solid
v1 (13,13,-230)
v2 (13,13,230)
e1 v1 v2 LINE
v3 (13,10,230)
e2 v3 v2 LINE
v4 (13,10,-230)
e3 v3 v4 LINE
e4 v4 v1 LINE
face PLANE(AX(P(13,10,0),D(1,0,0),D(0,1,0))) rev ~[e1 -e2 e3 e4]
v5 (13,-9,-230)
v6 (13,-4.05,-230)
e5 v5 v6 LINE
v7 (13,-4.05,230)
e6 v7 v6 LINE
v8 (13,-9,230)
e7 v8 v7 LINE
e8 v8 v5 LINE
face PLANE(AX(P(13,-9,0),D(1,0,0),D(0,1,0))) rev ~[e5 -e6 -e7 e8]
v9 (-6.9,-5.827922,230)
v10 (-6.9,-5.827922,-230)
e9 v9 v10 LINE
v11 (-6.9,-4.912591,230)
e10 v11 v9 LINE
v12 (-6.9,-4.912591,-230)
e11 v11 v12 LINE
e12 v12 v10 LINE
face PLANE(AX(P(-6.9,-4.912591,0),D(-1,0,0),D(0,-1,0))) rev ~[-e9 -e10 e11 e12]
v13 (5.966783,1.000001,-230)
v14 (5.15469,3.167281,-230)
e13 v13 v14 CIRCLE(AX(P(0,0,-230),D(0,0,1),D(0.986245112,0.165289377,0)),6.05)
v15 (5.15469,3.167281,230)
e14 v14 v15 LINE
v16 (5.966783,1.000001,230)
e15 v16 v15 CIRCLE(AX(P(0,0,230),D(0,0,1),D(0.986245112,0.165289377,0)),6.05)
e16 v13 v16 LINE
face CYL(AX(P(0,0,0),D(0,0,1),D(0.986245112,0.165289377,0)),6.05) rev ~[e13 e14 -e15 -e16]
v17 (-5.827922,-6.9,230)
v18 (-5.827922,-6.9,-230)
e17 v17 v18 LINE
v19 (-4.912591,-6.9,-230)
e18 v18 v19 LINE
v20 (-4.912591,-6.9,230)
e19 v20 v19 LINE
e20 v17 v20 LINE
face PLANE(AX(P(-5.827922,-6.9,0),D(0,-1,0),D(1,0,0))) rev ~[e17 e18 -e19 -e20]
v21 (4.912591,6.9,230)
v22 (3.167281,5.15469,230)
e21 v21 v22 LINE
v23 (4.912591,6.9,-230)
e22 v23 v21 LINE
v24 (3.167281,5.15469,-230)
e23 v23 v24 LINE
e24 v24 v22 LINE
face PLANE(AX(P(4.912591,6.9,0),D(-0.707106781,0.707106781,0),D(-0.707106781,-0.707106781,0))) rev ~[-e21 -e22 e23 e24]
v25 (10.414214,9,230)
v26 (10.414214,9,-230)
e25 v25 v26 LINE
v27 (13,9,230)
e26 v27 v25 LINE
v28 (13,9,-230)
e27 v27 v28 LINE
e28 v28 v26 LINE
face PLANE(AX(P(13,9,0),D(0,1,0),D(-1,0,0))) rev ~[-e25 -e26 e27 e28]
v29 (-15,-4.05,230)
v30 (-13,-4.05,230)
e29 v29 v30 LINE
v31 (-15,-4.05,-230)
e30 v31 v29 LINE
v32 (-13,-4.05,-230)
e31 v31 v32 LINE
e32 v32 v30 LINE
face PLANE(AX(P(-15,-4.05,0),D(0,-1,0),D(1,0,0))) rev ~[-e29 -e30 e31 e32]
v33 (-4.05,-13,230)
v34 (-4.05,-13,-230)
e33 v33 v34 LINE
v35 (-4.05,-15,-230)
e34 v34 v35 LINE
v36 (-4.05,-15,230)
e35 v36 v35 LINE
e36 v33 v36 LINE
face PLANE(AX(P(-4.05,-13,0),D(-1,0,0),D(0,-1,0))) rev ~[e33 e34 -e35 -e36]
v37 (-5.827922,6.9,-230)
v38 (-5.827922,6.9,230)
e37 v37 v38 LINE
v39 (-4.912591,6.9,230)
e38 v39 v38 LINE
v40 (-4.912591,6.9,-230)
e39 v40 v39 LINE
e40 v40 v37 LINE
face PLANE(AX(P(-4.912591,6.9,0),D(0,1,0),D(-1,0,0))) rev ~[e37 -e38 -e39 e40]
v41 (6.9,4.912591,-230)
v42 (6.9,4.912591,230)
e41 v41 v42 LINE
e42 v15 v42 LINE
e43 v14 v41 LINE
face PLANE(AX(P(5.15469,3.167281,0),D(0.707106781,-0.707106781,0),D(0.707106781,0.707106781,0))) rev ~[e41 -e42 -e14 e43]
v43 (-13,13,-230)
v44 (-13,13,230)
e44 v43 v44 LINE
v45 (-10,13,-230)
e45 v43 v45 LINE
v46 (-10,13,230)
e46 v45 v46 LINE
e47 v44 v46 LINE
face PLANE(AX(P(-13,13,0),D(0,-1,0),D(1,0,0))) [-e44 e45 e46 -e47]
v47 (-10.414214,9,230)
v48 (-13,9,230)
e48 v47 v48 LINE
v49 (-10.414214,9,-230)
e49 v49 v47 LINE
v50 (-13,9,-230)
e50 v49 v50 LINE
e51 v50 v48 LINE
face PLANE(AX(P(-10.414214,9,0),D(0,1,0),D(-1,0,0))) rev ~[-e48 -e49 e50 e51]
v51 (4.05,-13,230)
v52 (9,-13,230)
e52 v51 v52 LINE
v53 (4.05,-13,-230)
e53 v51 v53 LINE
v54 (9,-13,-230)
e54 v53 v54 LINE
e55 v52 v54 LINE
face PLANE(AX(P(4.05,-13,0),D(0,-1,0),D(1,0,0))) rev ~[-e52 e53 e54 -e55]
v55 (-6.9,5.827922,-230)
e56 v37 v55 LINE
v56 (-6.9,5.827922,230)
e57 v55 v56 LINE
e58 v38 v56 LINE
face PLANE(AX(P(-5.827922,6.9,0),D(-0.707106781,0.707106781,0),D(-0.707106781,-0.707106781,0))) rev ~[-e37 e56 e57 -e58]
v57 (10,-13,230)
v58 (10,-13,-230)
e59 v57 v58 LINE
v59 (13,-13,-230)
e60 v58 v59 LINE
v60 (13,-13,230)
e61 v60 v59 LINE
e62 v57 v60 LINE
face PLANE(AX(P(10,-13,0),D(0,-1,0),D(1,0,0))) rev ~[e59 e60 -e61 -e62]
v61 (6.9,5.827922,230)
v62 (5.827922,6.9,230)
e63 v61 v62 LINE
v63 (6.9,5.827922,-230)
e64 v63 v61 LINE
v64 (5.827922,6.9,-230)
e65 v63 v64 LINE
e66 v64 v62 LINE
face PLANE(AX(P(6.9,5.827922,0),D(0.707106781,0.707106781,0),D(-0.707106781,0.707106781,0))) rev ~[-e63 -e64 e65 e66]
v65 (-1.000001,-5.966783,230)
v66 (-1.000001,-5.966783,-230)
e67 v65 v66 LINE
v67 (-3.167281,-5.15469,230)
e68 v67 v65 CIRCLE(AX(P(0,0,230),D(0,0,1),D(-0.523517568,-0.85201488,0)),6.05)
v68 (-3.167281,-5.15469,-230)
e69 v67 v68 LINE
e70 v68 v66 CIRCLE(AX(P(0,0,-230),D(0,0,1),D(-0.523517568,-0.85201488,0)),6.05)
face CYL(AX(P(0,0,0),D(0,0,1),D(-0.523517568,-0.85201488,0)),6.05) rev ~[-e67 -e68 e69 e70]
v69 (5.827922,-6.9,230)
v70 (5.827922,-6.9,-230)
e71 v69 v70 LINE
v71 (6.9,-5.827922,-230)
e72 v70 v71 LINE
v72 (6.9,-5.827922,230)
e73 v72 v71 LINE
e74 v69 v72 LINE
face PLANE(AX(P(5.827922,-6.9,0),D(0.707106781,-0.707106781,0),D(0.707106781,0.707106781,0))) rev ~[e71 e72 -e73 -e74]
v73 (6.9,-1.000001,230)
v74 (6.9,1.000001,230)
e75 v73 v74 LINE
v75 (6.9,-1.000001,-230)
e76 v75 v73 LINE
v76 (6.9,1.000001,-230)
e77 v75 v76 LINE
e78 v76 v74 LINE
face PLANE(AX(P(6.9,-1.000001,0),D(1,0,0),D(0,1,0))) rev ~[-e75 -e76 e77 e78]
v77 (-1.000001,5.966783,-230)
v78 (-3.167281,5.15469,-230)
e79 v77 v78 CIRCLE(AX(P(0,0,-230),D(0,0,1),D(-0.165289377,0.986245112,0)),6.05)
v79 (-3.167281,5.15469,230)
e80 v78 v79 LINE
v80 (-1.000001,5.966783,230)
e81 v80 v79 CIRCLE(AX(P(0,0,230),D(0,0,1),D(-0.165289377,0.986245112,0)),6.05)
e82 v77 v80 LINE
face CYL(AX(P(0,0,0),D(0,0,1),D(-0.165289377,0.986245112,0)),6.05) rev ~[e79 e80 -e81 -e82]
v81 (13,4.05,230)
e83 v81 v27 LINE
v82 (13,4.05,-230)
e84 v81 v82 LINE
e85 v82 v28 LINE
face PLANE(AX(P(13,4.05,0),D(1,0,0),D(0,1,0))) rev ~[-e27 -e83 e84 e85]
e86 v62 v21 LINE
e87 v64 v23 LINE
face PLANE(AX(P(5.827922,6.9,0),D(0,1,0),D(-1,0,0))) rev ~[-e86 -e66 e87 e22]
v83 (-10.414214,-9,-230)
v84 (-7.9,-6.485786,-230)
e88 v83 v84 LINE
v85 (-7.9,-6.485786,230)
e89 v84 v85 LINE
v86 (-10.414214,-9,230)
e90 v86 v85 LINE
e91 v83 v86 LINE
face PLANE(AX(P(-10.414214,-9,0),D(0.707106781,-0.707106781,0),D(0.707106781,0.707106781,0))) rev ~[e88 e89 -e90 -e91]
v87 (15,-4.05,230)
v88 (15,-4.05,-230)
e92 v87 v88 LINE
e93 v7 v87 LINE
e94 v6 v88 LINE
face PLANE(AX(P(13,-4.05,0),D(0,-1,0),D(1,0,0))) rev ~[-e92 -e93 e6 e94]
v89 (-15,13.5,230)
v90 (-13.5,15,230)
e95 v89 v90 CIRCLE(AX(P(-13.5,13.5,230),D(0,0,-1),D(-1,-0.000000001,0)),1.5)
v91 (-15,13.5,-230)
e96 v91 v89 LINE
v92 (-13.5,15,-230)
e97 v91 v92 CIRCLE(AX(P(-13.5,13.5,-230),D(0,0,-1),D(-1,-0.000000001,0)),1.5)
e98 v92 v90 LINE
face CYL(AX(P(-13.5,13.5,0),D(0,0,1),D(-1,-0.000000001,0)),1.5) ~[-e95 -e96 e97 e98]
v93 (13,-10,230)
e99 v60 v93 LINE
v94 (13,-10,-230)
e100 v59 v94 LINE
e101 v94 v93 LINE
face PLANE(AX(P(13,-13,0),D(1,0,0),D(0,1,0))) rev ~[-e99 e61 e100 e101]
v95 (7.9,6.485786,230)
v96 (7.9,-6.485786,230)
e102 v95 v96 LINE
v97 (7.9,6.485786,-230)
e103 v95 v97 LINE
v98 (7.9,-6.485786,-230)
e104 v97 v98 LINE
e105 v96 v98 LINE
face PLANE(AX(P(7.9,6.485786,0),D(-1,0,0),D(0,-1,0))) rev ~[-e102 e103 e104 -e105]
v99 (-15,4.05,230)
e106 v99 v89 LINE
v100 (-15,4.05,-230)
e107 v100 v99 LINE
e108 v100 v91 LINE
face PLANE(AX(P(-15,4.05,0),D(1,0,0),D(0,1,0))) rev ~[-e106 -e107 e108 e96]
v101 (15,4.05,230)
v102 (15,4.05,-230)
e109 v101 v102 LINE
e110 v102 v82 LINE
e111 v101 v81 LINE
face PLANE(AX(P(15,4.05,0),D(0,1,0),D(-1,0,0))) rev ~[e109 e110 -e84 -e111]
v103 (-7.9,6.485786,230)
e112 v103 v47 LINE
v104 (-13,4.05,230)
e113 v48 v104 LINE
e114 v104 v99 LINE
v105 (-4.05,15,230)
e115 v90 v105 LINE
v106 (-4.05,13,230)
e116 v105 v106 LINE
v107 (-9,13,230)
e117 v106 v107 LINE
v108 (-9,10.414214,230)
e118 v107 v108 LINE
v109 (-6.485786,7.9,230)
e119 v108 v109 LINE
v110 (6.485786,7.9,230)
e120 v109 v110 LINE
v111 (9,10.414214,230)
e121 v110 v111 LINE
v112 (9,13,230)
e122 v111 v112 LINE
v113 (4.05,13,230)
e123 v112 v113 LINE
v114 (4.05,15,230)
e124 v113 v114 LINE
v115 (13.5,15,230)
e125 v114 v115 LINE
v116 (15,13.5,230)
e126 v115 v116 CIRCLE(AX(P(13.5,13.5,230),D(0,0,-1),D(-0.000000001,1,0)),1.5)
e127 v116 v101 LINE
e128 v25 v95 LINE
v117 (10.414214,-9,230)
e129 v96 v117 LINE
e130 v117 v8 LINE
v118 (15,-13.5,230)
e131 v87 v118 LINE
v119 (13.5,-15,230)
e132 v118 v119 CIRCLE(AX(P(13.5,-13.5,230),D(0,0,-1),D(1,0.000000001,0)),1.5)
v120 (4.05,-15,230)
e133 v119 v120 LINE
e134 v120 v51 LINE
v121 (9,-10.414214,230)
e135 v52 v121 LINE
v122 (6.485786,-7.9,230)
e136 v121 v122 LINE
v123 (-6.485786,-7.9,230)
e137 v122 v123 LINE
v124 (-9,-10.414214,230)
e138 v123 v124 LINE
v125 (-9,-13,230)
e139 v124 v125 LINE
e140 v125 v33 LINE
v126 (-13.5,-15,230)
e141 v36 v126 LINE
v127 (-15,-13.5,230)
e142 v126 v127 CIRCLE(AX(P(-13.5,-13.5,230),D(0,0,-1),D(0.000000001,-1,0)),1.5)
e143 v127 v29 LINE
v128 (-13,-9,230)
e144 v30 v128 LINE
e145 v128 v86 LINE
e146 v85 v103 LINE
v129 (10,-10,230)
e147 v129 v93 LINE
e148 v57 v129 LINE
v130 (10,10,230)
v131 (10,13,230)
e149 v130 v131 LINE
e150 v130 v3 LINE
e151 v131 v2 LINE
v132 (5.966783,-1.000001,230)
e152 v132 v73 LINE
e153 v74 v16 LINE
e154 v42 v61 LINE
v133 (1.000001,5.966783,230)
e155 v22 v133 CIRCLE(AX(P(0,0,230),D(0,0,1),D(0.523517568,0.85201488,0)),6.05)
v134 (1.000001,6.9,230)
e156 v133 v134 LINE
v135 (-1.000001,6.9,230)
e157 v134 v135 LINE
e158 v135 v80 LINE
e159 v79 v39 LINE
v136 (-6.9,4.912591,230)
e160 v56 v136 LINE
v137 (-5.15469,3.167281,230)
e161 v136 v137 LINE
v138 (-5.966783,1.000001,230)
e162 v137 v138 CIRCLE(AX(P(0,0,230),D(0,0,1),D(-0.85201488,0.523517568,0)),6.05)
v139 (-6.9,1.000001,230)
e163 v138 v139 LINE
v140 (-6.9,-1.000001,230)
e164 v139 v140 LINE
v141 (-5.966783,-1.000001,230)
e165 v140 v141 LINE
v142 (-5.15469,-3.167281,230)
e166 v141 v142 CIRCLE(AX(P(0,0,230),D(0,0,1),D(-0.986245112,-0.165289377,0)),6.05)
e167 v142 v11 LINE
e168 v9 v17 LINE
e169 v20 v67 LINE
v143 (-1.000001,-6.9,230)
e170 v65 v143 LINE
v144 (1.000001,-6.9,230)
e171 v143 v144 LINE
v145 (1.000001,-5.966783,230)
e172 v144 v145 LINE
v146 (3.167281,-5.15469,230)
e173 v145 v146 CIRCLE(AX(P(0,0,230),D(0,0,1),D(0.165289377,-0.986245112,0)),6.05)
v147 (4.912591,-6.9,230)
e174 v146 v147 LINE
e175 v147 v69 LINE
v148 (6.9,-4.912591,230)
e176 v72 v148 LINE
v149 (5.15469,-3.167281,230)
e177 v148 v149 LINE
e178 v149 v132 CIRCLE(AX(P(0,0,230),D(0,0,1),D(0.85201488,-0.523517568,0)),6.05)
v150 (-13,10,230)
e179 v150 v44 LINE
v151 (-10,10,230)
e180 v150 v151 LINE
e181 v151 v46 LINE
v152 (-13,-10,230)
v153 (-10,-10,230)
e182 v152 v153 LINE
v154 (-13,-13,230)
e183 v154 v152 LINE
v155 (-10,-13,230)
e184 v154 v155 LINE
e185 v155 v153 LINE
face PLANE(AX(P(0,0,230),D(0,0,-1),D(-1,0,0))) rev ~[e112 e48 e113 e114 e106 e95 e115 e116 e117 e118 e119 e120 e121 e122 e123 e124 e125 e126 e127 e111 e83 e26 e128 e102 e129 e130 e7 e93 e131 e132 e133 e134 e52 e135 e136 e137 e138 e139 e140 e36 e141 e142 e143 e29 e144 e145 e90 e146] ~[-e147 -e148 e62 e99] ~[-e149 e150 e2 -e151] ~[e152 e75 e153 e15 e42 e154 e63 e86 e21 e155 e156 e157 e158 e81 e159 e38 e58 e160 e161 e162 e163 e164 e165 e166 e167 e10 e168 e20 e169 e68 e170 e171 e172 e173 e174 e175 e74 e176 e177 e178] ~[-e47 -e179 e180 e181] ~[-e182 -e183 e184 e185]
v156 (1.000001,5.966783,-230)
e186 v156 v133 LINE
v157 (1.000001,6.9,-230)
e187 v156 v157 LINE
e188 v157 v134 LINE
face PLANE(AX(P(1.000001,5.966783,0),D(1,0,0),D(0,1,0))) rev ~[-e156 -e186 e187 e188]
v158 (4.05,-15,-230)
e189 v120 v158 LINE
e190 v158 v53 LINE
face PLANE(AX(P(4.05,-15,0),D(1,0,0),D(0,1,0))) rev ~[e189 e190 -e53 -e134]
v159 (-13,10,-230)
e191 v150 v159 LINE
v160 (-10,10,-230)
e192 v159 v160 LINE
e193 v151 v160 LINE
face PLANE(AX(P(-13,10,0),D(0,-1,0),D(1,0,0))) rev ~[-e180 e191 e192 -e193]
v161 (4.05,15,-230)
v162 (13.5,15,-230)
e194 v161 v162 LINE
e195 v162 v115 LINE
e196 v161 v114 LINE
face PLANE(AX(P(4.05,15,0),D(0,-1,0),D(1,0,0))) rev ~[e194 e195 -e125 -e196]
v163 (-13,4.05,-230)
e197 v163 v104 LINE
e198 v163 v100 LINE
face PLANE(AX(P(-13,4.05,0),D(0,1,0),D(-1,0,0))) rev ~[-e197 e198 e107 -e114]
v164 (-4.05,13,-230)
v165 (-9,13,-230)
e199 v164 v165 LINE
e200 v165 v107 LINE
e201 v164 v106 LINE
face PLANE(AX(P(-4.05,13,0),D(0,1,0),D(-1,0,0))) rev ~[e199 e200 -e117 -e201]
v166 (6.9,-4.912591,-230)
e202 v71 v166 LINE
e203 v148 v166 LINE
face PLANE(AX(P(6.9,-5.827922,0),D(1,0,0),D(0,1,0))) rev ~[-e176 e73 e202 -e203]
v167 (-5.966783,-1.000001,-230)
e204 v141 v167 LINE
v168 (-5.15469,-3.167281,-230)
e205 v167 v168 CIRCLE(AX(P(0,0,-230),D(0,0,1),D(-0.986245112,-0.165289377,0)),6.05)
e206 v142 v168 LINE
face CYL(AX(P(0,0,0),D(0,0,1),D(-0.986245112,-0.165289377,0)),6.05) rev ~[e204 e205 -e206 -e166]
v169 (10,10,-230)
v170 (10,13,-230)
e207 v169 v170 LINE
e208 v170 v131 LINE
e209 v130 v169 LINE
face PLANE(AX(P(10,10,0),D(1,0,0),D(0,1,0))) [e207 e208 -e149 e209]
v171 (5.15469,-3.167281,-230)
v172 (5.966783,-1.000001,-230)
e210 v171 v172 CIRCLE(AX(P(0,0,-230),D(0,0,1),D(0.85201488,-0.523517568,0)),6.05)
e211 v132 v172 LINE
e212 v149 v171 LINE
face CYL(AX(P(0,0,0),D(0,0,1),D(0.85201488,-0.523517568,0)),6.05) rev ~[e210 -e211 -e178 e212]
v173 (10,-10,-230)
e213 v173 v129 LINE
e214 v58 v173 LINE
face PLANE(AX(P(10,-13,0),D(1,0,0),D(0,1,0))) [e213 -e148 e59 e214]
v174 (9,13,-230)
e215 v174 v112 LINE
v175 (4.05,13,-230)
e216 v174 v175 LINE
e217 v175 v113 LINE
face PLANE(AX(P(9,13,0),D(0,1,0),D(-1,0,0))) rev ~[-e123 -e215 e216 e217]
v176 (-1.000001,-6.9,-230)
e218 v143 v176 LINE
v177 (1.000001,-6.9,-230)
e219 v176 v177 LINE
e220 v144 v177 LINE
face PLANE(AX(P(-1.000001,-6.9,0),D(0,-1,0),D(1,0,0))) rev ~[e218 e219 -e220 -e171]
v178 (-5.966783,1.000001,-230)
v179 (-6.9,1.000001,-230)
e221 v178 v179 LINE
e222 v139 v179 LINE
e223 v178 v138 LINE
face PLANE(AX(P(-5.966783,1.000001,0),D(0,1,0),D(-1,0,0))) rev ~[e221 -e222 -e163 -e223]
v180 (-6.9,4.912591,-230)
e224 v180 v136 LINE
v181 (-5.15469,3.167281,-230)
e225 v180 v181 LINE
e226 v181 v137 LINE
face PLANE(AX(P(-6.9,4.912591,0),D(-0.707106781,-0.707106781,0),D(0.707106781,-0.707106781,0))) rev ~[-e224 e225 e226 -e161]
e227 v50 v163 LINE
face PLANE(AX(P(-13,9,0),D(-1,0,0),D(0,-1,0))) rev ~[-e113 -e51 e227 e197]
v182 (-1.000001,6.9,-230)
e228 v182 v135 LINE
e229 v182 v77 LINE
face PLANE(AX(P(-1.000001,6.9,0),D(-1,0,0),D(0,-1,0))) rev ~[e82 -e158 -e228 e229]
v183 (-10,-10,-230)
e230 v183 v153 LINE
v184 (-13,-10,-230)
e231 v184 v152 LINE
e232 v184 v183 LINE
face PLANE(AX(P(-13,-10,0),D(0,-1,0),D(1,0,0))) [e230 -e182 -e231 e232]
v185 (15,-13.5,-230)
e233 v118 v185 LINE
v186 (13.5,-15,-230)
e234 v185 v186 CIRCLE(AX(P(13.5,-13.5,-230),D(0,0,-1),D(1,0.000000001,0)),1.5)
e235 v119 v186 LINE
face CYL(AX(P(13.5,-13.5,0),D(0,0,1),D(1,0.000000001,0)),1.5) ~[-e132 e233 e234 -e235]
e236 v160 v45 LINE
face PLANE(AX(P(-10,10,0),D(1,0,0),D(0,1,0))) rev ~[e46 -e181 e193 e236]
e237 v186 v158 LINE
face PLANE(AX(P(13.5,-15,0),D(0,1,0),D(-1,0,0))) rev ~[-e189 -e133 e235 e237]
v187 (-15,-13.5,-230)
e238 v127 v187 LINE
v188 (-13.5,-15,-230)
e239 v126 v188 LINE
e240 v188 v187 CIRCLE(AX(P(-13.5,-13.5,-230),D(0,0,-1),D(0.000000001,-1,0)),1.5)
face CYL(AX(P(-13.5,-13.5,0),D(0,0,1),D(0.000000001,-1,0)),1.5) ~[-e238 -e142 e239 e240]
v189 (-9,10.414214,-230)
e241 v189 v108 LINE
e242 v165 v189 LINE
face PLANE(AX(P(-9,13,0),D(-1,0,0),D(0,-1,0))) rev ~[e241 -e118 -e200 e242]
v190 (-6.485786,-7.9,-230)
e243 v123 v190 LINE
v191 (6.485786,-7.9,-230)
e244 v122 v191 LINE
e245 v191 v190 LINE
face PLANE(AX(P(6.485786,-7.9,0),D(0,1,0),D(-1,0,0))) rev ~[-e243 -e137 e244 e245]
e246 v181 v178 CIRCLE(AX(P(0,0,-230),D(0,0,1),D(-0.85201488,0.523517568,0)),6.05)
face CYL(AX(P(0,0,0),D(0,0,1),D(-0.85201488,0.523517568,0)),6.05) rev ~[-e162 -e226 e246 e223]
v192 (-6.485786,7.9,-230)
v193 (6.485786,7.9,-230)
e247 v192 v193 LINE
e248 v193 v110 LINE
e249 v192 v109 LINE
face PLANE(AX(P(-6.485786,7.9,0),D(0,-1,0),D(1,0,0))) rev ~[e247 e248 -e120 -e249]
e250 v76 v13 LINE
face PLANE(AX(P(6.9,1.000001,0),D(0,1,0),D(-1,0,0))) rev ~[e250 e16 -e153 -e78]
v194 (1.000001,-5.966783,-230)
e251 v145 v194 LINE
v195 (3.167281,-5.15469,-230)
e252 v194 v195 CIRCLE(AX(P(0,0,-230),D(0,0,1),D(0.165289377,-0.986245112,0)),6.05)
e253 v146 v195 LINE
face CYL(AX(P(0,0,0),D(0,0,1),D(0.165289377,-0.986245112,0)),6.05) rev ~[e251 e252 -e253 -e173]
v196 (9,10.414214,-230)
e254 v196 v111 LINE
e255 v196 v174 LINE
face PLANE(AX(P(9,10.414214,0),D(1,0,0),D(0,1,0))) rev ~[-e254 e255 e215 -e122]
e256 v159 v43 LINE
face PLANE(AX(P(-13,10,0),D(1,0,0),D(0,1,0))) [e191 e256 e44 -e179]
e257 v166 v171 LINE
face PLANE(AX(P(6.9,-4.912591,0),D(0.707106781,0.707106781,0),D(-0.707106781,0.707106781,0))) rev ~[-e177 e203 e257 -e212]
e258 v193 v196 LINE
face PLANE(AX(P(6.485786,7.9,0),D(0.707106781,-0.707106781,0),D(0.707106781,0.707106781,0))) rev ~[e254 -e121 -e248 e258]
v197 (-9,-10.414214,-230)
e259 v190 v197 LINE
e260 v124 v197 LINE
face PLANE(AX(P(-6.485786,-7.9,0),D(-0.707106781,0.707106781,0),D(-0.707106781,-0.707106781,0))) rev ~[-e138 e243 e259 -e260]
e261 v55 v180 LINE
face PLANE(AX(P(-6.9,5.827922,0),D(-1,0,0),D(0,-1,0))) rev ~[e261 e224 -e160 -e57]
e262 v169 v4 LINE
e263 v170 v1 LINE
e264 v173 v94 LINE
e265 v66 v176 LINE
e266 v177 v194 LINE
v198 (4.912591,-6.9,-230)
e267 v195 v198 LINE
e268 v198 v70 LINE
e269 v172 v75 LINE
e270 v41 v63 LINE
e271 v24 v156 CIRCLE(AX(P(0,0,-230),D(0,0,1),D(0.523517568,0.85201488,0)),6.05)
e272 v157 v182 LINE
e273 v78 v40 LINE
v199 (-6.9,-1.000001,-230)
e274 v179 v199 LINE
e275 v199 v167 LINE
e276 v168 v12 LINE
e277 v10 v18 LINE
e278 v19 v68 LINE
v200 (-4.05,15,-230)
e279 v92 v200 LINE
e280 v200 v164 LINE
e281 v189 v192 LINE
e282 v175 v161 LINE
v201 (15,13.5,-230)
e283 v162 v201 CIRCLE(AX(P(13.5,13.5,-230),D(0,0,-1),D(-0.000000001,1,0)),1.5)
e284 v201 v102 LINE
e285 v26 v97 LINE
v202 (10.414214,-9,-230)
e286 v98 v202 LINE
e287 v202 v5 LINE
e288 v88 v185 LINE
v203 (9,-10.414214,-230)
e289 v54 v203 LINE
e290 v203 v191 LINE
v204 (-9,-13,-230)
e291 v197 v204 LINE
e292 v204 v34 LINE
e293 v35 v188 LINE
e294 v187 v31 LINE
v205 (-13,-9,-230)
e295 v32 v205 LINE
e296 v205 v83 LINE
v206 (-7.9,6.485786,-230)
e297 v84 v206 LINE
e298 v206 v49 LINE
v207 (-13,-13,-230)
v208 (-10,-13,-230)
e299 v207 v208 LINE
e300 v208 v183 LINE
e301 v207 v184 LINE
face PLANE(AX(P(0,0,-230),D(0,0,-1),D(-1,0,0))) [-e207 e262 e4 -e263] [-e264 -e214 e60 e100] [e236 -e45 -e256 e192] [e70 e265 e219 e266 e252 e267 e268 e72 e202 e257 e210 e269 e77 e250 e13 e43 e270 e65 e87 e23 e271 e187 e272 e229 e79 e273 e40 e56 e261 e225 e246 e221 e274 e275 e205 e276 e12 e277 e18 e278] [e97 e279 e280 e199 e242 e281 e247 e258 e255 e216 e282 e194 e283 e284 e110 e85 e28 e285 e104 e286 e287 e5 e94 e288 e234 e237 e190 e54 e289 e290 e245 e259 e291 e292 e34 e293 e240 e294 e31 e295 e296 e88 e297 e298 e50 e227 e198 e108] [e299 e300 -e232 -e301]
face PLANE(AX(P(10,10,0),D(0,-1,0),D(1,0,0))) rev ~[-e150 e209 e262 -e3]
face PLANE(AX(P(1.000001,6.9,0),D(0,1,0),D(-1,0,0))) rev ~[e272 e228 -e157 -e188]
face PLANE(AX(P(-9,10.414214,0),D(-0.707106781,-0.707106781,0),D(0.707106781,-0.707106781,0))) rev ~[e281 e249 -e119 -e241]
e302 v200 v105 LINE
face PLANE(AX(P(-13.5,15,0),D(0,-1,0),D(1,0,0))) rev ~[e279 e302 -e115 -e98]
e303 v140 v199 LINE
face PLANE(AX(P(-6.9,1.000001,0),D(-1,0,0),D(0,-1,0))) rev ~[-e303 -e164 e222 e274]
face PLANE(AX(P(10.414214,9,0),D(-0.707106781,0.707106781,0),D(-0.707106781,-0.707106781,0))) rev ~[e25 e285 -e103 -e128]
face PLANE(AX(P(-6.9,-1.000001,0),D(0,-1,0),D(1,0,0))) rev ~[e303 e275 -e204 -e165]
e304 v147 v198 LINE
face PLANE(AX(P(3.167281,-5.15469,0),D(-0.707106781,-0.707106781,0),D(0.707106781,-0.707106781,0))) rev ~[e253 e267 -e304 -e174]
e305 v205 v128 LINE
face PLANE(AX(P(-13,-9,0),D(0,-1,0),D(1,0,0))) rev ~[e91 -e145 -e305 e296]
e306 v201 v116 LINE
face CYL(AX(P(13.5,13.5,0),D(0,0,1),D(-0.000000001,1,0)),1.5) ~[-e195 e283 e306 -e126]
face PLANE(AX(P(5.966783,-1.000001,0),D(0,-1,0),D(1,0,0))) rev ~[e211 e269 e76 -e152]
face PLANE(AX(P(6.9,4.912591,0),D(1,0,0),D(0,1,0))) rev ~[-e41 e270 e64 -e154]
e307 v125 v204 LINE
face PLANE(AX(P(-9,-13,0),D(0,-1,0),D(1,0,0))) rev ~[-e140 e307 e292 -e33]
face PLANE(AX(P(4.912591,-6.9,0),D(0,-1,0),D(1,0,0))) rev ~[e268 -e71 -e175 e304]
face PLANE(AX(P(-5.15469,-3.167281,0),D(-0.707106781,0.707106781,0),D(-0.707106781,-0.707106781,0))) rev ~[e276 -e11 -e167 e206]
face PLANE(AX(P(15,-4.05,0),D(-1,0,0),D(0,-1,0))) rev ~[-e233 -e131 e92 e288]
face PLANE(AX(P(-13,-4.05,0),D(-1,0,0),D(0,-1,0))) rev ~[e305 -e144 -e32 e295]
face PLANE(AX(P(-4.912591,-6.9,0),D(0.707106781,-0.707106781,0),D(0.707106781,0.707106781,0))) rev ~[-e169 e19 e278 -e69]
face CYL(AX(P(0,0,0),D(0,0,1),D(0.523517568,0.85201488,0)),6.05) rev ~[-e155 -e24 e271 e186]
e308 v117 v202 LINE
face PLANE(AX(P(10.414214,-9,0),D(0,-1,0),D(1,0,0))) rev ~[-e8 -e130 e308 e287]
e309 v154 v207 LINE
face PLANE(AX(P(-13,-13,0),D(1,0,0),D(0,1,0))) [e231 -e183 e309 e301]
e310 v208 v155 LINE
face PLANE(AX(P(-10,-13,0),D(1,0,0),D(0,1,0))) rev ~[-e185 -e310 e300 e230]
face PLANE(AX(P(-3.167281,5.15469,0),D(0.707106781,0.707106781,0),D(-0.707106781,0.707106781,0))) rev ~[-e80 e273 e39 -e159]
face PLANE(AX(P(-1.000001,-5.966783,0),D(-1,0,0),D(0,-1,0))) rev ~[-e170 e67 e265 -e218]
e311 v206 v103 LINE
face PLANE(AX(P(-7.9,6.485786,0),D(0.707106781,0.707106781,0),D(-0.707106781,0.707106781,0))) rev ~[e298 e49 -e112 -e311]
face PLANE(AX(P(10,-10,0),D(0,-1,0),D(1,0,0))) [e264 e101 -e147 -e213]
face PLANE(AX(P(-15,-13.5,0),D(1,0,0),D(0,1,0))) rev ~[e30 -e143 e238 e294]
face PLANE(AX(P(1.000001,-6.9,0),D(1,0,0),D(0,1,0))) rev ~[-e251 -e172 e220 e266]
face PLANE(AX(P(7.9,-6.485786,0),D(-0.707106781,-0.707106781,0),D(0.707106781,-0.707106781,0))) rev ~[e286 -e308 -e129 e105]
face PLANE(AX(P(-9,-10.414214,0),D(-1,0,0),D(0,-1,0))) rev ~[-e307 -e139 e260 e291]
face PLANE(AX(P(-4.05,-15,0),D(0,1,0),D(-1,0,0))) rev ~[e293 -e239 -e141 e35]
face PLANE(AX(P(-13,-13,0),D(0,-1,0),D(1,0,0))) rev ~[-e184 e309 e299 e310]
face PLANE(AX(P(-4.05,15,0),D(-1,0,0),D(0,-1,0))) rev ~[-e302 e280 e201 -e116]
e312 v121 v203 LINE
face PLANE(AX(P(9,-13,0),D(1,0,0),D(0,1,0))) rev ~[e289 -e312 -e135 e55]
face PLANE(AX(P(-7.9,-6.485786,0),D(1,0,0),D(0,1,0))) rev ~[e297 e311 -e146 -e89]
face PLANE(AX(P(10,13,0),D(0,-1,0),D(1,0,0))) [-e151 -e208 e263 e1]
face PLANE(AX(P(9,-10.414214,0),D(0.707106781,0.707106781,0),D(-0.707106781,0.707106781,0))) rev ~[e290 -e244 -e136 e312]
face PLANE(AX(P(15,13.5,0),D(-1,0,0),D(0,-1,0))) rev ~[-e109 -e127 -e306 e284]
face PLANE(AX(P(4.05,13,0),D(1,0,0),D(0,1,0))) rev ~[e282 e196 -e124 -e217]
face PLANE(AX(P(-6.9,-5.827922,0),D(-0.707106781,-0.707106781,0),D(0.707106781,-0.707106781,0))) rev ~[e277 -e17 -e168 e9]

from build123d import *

# Parameters (mm, degrees)
ESBO_O1_W                = 3
ESBO_O1_H                = 3
RESSALTO_EXTRUS_O1_DEPTH = 230


with BuildPart() as part:
    # Esboço1 → Ressalto-extrusão1 (new, symmetric)
    with BuildSketch(Plane.XY):
        with BuildLine():
            Line((15, 13.5), (15, 4.05))
            Line((15, 4.05), (13, 4.05))
            Line((13, 4.05), (13, 9))
            Line((13, 9), (10.414213562, 9))
            Line((10.414213562, 9), (7.9, 6.485786438))
            Line((7.9, 6.485786438), (7.9, -7.36e-07))
            Line((7.9, -7.36e-07), (7.9, -6.485786438))
            Line((7.9, -6.485786438), (10.414213562, -9))
            Line((10.414213562, -9), (13, -9))
            Line((13, -9), (13, -4.05))
            Line((13, -4.05), (15, -4.05))
            Line((15, -4.05), (15, -13.5))
            ThreePointArc((15, -13.5), (14.560660172, -14.560660172), (13.5, -15))
            Line((13.5, -15), (4.05, -15))
            Line((4.05, -15), (4.05, -13))
            Line((4.05, -13), (9, -13))
            Line((9, -13), (9, -10.414213562))
            Line((9, -10.414213562), (6.485786438, -7.9))
            Line((6.485786438, -7.9), (-7.36e-07, -7.9))
            Line((-7.36e-07, -7.9), (-6.485786438, -7.9))
            Line((-6.485786438, -7.9), (-9, -10.414213562))
            Line((-9, -10.414213562), (-9, -13))
            Line((-9, -13), (-4.05, -13))
            Line((-4.05, -13), (-4.05, -15))
            Line((-4.05, -15), (-13.5, -15))
            ThreePointArc((-13.5, -15), (-14.560660172, -14.560660172), (-15, -13.5))
            Line((-15, -13.5), (-15, -4.05))
            Line((-15, -4.05), (-13, -4.05))
            Line((-13, -4.05), (-13, -9))
            Line((-13, -9), (-10.414213562, -9))
            Line((-10.414213562, -9), (-7.9, -6.485786438))
            Line((-7.9, -6.485786438), (-7.9, 7.36e-07))
            Line((-7.9, 7.36e-07), (-7.9, 6.485786438))
            Line((-7.9, 6.485786438), (-10.414213562, 9))
            Line((-10.414213562, 9), (-13, 9))
            Line((-13, 9), (-13, 4.05))
            Line((-13, 4.05), (-15, 4.05))
            Line((-15, 4.05), (-15, 13.5))
            ThreePointArc((-15, 13.5), (-14.560660172, 14.560660172), (-13.5, 15))
            Line((-13.5, 15), (-4.05, 15))
            Line((-4.05, 15), (-4.05, 13))
            Line((-4.05, 13), (-9, 13))
            Line((-9, 13), (-9, 10.414213562))
            Line((-9, 10.414213562), (-6.485786438, 7.9))
            Line((-6.485786438, 7.9), (7.36e-07, 7.9))
            Line((7.36e-07, 7.9), (6.485786438, 7.9))
            Line((6.485786438, 7.9), (9, 10.414213562))
            Line((9, 10.414213562), (9, 13))
            Line((9, 13), (4.05, 13))
            Line((4.05, 13), (4.05, 15))
            Line((4.05, 15), (13.5, 15))
            ThreePointArc((13.5, 15), (14.560660172, 14.560660172), (15, 13.5))
        make_face()
        with Locations((-11.5, 11.5)):
            Rectangle(ESBO_O1_W, ESBO_O1_H, mode=Mode.SUBTRACT)
        with BuildLine():
            Line((-6.9, 1.000000736), (-6.9, 7.36e-07))
            Line((-6.9, 7.36e-07), (-6.9, -1.000000736))
            Line((-6.9, -1.000000736), (-5.966782929, -1.000000736))
            ThreePointArc((-5.966782929, -1.000000736), (-5.665339038, -2.122836212), (-5.154690025, -3.167281286))
            Line((-5.154690025, -3.167281286), (-6.9, -4.91259126))
            Line((-6.9, -4.91259126), (-6.9, -5.827922061))
            Line((-6.9, -5.827922061), (-5.827922061, -6.9))
            Line((-5.827922061, -6.9), (-4.91259126, -6.9))
            Line((-4.91259126, -6.9), (-3.167281286, -5.154690025))
            ThreePointArc((-3.167281286, -5.154690025), (-2.122836212, -5.665339038), (-1.000000736, -5.966782929))
            Line((-1.000000736, -5.966782929), (-1.000000736, -6.9))
            Line((-1.000000736, -6.9), (-7.36e-07, -6.9))
            Line((-7.36e-07, -6.9), (1.000000736, -6.9))
            Line((1.000000736, -6.9), (1.000000736, -5.966782929))
            ThreePointArc((1.000000736, -5.966782929), (2.122836212, -5.665339038), (3.167281286, -5.154690025))
            Line((3.167281286, -5.154690025), (4.91259126, -6.9))
            Line((4.91259126, -6.9), (5.827922061, -6.9))
            Line((5.827922061, -6.9), (6.9, -5.827922061))
            Line((6.9, -5.827922061), (6.9, -4.91259126))
            Line((6.9, -4.91259126), (5.154690025, -3.167281286))
            ThreePointArc((5.154690025, -3.167281286), (5.665339038, -2.122836212), (5.966782929, -1.000000736))
            Line((5.966782929, -1.000000736), (6.9, -1.000000736))
            Line((6.9, -1.000000736), (6.9, -7.36e-07))
            Line((6.9, -7.36e-07), (6.9, 1.000000736))
            Line((6.9, 1.000000736), (5.966782929, 1.000000736))
            ThreePointArc((5.966782929, 1.000000736), (5.665339038, 2.122836212), (5.154690025, 3.167281286))
            Line((5.154690025, 3.167281286), (6.9, 4.91259126))
            Line((6.9, 4.91259126), (6.9, 5.827922061))
            Line((6.9, 5.827922061), (5.827922061, 6.9))
            Line((5.827922061, 6.9), (4.91259126, 6.9))
            Line((4.91259126, 6.9), (3.167281286, 5.154690025))
            ThreePointArc((3.167281286, 5.154690025), (2.122836212, 5.665339038), (1.000000736, 5.966782929))
            Line((1.000000736, 5.966782929), (1.000000736, 6.9))
            Line((1.000000736, 6.9), (7.36e-07, 6.9))
            Line((7.36e-07, 6.9), (-1.000000736, 6.9))
            Line((-1.000000736, 6.9), (-1.000000736, 5.966782929))
            ThreePointArc((-1.000000736, 5.966782929), (-2.122836212, 5.665339038), (-3.167281286, 5.154690025))
            Line((-3.167281286, 5.154690025), (-4.91259126, 6.9))
            Line((-4.91259126, 6.9), (-5.827922061, 6.9))
            Line((-5.827922061, 6.9), (-6.9, 5.827922061))
            Line((-6.9, 5.827922061), (-6.9, 4.91259126))
            Line((-6.9, 4.91259126), (-5.154690025, 3.167281286))
            ThreePointArc((-5.154690025, 3.167281286), (-5.665339038, 2.122836212), (-5.966782929, 1.000000736))
            Line((-5.966782929, 1.000000736), (-6.9, 1.000000736))
        make_face(mode=Mode.SUBTRACT)
        with Locations((11.5, 11.5)):
            Rectangle(ESBO_O1_W, ESBO_O1_H, mode=Mode.SUBTRACT)
        with Locations((11.5, -11.5)):
            Rectangle(ESBO_O1_W, ESBO_O1_H, mode=Mode.SUBTRACT)
        with Locations((-11.5, -11.5)):
            Rectangle(ESBO_O1_W, ESBO_O1_H, mode=Mode.SUBTRACT)
    extrude(amount=RESSALTO_EXTRUS_O1_DEPTH, both=True)


solid = part.part
